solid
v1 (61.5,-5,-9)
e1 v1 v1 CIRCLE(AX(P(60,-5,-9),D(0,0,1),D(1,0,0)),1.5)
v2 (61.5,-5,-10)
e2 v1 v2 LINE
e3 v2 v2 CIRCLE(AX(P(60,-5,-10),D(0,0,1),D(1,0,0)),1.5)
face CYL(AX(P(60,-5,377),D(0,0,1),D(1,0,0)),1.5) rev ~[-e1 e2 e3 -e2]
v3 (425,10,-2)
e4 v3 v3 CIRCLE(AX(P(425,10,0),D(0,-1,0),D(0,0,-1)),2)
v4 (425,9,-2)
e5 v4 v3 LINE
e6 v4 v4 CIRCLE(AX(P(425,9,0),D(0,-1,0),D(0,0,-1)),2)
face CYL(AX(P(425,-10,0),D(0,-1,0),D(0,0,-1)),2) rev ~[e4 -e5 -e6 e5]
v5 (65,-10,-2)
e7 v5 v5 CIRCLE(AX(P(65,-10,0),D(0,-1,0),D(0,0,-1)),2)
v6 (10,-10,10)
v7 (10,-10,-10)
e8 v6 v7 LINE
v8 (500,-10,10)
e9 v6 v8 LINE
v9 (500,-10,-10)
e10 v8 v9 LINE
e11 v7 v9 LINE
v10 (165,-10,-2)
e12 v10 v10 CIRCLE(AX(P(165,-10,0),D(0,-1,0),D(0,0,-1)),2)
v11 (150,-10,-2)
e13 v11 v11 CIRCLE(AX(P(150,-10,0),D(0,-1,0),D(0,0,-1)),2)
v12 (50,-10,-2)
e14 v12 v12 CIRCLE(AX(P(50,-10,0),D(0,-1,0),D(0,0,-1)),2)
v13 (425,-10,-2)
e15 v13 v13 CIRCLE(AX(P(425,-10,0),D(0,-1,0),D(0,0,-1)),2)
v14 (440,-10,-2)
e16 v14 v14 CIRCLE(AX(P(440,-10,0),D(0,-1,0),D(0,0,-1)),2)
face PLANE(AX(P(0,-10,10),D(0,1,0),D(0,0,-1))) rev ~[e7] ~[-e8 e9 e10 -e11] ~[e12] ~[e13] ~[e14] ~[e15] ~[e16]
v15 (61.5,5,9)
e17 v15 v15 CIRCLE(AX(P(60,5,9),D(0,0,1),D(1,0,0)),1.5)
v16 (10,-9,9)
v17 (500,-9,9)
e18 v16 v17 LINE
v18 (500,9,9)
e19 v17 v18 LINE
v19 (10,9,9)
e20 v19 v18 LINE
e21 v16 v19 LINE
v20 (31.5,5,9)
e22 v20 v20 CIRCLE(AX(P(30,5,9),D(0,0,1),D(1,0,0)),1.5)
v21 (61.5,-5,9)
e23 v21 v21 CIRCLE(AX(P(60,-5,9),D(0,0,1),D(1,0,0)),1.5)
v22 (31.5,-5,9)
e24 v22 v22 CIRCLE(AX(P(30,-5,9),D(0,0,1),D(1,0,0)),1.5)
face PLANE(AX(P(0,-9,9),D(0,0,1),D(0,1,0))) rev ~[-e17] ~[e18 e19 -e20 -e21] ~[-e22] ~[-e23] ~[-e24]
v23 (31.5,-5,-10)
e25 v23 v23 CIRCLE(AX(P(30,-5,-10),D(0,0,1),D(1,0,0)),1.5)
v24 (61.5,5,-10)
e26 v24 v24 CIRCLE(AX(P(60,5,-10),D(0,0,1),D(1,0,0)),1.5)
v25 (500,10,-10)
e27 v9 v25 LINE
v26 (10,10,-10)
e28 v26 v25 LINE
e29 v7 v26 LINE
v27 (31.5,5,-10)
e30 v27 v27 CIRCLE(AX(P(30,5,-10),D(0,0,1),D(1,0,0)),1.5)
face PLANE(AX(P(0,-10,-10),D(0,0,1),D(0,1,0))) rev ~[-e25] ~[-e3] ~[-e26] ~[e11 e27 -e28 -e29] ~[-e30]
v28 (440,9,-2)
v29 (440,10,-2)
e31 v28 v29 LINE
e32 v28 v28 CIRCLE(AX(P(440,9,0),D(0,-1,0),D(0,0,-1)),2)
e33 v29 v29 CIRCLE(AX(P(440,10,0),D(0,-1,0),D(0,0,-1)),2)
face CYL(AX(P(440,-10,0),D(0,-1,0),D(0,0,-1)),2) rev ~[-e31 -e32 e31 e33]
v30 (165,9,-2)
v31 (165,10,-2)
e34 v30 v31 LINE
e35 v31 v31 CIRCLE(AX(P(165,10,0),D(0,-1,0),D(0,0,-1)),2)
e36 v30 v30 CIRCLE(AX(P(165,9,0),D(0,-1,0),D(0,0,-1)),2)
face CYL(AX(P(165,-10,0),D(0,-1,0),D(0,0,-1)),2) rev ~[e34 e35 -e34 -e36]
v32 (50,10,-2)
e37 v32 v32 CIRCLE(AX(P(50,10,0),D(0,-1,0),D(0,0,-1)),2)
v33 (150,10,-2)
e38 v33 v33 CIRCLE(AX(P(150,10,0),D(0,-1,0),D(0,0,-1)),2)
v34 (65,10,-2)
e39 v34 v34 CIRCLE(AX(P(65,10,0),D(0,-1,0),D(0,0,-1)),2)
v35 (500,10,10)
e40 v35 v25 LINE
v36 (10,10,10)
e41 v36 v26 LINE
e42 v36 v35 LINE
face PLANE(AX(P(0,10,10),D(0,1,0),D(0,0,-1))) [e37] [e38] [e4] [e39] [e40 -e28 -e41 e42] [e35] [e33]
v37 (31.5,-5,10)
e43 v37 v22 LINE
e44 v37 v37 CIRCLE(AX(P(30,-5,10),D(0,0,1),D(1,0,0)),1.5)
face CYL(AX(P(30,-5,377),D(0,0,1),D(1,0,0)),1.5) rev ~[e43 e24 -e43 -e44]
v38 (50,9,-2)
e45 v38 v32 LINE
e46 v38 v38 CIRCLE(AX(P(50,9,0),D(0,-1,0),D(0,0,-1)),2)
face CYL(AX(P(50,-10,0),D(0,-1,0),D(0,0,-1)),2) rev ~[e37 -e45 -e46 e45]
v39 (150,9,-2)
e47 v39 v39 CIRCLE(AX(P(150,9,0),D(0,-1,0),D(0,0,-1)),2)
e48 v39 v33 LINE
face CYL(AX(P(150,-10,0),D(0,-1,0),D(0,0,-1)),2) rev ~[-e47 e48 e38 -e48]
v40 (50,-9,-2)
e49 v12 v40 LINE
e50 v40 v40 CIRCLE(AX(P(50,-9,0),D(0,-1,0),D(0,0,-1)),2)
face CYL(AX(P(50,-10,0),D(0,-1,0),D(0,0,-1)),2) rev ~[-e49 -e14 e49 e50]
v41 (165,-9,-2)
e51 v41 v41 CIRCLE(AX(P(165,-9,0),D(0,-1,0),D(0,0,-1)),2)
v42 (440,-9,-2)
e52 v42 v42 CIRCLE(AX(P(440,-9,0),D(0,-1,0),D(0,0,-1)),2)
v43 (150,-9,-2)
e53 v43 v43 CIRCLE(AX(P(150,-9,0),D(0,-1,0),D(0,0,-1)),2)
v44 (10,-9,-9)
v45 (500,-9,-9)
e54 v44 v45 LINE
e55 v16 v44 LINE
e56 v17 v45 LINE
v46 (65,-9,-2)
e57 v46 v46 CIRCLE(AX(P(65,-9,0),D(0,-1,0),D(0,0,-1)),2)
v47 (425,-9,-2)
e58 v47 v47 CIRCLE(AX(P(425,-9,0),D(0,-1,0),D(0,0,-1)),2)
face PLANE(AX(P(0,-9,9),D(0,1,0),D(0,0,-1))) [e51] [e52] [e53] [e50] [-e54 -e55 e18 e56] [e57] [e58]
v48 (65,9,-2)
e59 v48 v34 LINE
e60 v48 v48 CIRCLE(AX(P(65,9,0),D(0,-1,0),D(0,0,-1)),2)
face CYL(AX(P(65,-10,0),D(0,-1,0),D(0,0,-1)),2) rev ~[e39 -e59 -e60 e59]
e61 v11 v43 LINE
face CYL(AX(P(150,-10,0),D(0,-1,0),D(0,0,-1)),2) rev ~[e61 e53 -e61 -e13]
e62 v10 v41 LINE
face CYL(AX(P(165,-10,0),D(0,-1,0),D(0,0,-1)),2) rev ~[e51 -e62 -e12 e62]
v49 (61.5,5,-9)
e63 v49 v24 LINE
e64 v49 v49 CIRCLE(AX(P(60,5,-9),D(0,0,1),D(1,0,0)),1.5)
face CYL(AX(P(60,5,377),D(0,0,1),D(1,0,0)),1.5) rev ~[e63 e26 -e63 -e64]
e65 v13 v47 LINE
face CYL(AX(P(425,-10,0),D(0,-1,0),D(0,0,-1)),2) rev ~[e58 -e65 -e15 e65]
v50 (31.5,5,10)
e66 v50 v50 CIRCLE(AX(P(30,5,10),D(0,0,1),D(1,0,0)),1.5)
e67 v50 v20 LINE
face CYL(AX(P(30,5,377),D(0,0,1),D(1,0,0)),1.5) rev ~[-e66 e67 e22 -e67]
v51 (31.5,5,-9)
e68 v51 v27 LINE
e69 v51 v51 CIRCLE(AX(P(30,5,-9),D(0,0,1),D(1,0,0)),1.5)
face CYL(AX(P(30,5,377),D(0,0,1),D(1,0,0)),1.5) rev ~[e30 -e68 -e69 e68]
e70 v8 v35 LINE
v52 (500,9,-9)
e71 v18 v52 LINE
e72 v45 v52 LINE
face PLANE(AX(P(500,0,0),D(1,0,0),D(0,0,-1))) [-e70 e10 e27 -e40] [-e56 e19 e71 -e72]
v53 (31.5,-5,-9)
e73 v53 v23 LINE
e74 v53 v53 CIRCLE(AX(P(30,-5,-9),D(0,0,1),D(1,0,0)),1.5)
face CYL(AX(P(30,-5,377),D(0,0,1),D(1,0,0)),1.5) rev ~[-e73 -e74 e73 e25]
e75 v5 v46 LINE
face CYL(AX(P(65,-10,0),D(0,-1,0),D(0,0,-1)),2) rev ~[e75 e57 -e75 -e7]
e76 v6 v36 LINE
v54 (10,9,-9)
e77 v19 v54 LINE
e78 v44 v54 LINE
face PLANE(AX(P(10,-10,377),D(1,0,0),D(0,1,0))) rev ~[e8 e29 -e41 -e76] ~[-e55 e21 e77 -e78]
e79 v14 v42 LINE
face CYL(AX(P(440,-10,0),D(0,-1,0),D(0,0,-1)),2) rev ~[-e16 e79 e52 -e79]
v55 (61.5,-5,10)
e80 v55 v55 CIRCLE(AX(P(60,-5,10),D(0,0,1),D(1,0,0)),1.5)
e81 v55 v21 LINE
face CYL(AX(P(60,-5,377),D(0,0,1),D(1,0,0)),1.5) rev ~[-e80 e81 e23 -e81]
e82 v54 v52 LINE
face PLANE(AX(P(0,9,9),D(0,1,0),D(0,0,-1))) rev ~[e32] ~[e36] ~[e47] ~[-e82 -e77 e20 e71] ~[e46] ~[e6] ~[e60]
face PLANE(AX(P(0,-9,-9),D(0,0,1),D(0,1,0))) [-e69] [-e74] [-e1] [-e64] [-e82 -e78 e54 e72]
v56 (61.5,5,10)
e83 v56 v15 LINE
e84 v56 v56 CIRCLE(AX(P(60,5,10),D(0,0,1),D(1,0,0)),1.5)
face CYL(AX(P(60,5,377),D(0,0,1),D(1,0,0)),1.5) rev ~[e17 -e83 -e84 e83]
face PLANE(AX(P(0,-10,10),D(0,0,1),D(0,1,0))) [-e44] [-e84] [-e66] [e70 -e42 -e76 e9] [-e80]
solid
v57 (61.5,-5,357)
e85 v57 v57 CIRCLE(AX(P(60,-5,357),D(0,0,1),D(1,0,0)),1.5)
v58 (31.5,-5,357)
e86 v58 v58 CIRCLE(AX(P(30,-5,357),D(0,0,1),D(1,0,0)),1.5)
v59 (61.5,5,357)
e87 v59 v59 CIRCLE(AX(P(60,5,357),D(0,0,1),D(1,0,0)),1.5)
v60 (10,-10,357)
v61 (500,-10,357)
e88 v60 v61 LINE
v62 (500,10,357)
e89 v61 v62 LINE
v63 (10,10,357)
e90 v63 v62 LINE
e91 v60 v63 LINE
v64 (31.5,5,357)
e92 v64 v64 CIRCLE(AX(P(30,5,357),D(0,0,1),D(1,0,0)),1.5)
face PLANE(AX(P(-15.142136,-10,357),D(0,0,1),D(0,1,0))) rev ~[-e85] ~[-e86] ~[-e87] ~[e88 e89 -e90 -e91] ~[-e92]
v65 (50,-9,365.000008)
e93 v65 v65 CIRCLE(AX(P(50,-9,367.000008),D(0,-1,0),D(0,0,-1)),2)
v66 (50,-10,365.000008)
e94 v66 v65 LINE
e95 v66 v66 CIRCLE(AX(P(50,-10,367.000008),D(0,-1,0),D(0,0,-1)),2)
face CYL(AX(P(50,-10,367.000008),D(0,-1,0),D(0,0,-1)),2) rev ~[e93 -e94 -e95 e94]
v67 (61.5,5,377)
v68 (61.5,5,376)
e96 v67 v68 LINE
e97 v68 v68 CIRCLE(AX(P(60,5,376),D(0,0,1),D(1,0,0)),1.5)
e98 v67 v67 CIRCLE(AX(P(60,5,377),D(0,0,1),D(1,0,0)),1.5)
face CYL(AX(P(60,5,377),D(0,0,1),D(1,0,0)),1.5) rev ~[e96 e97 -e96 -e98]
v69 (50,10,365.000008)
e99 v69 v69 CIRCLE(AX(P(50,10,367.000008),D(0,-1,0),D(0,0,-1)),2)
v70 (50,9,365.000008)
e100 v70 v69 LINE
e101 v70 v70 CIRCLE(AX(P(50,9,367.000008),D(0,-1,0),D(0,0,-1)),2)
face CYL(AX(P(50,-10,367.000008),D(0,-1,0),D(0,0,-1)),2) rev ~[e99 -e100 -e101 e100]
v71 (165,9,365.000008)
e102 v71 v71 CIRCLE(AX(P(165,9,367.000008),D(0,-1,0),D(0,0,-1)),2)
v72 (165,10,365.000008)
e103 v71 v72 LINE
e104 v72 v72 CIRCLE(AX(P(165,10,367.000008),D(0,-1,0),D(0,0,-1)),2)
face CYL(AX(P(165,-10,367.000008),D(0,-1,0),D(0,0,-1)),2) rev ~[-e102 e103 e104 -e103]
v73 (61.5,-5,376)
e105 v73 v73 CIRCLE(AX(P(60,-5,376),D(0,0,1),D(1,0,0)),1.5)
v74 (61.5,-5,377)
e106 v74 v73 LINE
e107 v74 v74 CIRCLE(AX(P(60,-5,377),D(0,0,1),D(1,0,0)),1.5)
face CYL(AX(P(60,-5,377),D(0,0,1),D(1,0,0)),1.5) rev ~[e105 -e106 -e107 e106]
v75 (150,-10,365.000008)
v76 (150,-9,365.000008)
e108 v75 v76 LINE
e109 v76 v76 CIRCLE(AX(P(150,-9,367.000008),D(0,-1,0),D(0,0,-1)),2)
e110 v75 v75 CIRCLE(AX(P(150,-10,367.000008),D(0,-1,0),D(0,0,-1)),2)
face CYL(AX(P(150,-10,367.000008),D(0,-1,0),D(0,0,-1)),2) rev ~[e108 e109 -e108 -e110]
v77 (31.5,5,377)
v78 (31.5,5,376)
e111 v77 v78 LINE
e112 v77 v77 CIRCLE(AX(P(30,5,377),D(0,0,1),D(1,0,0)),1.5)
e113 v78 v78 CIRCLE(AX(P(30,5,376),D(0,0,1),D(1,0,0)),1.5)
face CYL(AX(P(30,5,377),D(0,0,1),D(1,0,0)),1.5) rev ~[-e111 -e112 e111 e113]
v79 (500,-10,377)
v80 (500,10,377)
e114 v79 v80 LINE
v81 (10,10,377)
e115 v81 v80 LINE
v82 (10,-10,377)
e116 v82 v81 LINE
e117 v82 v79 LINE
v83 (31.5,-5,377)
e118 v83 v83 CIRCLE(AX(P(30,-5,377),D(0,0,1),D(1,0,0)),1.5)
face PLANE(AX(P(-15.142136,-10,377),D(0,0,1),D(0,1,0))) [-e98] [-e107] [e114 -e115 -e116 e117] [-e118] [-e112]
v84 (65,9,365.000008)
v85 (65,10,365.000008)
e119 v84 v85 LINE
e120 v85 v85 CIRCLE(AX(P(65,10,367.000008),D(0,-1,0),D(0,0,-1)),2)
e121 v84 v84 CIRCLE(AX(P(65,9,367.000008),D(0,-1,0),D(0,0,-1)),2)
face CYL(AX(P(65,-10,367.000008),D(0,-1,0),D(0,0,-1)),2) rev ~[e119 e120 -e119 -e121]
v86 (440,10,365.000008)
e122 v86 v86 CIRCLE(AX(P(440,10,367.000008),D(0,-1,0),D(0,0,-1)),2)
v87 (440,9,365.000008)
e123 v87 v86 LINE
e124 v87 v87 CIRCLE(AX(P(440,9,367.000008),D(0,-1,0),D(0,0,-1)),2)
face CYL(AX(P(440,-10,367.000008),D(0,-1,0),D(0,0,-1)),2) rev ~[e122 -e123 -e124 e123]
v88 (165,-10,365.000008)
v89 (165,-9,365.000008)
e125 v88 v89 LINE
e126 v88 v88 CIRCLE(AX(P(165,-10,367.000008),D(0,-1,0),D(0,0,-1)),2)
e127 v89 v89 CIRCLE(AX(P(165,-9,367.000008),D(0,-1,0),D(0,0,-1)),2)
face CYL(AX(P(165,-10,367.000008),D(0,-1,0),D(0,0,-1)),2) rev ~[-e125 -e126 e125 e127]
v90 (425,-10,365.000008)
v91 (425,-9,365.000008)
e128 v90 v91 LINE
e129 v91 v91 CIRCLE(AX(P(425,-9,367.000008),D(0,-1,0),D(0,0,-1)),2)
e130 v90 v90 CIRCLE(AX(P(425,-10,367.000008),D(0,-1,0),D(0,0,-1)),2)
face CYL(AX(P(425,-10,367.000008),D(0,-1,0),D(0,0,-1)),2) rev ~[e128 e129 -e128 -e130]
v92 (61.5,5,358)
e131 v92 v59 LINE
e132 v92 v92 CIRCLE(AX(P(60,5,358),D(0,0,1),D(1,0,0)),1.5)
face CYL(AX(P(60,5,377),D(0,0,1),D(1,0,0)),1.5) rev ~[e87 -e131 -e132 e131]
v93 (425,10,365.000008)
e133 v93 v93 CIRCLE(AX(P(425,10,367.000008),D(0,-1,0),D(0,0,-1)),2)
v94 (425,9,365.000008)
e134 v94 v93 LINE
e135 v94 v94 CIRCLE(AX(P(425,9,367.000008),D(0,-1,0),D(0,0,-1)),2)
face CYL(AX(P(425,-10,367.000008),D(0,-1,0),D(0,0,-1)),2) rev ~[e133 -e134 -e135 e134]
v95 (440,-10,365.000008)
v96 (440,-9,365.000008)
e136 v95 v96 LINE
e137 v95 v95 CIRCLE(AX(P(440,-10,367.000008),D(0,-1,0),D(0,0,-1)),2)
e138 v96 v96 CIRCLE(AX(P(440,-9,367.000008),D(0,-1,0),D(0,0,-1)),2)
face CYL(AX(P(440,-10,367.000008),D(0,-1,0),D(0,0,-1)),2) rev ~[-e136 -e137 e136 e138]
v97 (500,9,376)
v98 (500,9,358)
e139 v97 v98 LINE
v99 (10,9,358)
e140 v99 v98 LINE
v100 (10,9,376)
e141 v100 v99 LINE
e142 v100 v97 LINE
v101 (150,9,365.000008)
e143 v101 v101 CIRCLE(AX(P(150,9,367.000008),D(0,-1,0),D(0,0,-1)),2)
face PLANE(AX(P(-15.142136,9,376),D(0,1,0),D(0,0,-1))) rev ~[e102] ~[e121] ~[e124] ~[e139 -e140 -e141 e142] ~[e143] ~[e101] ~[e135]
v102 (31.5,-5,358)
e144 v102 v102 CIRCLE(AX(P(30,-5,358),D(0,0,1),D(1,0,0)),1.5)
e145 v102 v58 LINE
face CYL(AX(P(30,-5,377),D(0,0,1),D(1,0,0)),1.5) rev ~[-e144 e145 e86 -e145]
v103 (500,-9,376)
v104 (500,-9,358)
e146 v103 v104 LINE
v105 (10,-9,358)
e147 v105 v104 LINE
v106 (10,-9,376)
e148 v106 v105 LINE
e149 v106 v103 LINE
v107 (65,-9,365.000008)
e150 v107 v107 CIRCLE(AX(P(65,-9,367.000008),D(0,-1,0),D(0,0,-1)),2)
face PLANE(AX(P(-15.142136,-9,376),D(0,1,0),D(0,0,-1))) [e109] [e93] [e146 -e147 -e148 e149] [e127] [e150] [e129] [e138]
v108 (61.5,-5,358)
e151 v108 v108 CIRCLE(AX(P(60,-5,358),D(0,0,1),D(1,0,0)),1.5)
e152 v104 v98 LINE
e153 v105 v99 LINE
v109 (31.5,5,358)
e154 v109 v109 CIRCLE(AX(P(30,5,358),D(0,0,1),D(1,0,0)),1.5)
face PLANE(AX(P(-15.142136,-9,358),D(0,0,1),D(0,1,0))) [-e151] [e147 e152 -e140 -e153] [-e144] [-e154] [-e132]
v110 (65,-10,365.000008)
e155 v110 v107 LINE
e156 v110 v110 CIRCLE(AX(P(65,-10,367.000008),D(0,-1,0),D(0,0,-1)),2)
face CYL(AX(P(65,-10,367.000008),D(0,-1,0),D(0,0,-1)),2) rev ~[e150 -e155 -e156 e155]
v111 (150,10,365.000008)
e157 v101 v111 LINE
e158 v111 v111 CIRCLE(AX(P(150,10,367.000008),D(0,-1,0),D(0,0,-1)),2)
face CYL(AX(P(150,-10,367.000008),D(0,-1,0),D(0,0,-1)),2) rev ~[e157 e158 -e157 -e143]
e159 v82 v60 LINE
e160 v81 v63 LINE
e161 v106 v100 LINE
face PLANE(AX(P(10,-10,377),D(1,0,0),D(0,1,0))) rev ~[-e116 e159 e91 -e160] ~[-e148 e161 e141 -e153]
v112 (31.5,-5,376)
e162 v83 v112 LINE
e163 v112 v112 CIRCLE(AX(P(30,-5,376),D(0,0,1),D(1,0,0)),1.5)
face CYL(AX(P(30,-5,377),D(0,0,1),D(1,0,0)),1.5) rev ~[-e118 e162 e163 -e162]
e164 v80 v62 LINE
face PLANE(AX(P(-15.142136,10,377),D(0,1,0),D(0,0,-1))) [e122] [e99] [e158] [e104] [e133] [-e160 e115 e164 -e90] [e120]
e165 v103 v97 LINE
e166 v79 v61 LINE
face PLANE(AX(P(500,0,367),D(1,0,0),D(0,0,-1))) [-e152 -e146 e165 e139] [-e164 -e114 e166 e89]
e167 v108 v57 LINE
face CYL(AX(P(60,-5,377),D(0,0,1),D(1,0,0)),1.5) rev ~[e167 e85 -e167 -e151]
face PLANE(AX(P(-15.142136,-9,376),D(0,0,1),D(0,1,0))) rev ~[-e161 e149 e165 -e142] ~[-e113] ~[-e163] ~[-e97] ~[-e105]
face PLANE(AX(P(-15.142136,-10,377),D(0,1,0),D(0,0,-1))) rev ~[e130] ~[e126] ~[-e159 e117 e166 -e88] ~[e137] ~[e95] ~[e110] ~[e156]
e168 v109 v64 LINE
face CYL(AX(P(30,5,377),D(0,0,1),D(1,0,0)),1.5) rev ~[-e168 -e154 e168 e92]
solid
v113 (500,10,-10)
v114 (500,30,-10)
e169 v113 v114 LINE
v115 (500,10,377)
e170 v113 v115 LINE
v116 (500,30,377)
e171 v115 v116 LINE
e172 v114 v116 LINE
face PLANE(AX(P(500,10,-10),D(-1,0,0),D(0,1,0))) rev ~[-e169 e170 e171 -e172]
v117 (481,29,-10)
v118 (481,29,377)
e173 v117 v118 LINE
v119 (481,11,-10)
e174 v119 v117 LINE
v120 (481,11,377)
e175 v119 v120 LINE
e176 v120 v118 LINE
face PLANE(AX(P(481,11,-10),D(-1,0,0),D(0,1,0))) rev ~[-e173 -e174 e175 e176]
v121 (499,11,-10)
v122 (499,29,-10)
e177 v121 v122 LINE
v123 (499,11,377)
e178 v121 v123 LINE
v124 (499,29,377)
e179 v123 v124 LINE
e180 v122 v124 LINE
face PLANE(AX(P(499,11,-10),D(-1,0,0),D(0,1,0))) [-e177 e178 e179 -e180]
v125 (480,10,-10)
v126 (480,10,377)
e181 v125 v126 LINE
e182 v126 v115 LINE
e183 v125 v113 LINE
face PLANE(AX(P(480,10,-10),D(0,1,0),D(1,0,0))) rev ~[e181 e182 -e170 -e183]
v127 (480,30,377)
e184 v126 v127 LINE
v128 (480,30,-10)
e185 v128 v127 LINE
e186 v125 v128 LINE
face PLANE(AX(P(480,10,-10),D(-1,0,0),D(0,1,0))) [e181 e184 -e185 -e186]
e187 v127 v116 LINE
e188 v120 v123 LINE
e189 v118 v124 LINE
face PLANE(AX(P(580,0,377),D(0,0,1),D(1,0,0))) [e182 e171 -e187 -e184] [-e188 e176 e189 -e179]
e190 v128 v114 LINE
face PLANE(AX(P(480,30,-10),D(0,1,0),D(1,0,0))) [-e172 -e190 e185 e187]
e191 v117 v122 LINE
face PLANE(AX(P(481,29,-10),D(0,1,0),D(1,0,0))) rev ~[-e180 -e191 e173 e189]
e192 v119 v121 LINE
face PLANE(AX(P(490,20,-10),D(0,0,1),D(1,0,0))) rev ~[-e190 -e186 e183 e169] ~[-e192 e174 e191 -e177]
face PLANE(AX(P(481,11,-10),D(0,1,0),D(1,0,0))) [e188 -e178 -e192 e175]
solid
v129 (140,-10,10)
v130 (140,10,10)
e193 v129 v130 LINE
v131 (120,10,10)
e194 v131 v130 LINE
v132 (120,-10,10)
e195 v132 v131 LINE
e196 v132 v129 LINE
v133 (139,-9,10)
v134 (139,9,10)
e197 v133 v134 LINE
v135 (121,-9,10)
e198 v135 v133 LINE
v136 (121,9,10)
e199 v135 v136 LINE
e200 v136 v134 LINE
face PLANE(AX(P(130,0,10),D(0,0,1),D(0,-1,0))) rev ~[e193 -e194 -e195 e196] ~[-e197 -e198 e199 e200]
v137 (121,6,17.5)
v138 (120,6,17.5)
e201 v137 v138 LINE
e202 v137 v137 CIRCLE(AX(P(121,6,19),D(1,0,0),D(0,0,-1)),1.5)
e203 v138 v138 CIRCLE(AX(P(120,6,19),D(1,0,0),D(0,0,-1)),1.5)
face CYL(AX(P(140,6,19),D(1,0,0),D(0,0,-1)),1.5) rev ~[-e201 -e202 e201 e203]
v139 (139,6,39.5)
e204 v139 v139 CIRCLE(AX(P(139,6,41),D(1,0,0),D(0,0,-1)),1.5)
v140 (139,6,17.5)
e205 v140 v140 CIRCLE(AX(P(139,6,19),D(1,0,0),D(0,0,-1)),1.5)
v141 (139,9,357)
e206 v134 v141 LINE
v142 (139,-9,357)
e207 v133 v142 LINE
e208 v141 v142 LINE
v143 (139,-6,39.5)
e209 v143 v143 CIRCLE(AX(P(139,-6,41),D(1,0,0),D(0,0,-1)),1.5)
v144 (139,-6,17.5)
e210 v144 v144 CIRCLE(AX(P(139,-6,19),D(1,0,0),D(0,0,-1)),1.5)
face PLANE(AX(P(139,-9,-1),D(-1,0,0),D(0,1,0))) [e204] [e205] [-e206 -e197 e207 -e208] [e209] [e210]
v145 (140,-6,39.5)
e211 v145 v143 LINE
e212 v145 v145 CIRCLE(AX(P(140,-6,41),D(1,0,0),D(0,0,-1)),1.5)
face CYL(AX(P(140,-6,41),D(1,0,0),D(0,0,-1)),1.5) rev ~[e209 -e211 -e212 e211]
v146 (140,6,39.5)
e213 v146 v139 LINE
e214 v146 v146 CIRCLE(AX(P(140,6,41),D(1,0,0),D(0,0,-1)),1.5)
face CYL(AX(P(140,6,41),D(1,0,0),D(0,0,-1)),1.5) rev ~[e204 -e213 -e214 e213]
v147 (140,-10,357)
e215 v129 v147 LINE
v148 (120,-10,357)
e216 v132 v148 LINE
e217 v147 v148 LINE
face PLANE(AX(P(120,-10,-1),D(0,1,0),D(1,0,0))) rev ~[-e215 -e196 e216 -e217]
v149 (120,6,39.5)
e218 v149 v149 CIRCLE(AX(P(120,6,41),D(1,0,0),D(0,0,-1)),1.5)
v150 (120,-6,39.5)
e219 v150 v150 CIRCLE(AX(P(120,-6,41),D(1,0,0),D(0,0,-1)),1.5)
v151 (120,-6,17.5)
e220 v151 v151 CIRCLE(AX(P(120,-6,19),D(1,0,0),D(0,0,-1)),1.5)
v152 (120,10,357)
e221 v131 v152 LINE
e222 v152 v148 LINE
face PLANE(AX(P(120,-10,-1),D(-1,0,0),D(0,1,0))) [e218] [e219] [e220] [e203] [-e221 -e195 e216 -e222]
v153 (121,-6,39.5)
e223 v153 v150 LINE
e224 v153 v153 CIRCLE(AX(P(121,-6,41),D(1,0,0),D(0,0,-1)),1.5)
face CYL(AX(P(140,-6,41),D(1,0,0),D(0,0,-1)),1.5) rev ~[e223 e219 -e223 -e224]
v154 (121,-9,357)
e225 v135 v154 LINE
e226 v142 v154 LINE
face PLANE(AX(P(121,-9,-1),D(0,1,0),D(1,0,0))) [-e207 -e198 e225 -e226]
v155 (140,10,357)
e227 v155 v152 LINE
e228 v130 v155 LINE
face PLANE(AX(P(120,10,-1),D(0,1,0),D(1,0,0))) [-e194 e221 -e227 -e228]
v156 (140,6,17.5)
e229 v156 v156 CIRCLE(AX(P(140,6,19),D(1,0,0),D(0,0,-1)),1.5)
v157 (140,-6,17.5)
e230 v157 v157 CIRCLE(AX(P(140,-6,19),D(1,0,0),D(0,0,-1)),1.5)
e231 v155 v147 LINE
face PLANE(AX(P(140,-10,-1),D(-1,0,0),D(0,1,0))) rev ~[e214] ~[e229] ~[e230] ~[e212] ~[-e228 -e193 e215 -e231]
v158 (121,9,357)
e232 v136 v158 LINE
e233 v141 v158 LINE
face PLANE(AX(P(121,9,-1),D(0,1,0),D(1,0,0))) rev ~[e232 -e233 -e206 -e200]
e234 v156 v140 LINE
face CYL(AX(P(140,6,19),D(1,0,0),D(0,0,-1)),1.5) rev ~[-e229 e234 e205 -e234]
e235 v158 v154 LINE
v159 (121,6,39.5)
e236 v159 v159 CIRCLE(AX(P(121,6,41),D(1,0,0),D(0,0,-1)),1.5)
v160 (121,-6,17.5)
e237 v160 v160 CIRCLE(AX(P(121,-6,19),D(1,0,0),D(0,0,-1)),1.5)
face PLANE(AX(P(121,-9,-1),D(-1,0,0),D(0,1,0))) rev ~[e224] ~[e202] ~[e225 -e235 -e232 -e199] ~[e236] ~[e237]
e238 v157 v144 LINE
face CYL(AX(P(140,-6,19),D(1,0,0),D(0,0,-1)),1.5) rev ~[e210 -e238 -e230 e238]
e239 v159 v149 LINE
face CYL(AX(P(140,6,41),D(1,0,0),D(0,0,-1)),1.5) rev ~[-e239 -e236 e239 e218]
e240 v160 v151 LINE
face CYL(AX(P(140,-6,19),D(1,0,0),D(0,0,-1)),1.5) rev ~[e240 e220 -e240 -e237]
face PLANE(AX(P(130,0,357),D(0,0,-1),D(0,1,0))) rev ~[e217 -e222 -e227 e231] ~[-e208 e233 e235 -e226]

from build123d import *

# Parameters (mm, degrees)
SKETCH_11_W                 = 20
SKETCH_11_H                 = 20
SKETCH_11_W_2               = 18
SKETCH_11_H_2               = 18
F_20X20X1_1_DEPTH           = 500
SKETCH_11_ON_SEGMENT_2_W    = 20
SKETCH_11_ON_SEGMENT_2_H    = 20
SKETCH_11_ON_SEGMENT_2_W_2  = 18
SKETCH_11_ON_SEGMENT_2_H_2  = 18
F_20X20X1_1_2_DEPTH         = 515.142135624
SKETCH_11_ON_SEGMENT_3_W    = 20
SKETCH_11_ON_SEGMENT_3_H    = 20
SKETCH_11_ON_SEGMENT_3_W_2  = 18
SKETCH_11_ON_SEGMENT_3_H_2  = 18
F_20X20X1_1_3_DEPTH         = 110.284271247
SKETCH_11_ON_SEGMENT_4_W    = 20
SKETCH_11_ON_SEGMENT_4_H    = 20
SKETCH_11_ON_SEGMENT_4_W_2  = 18
SKETCH_11_ON_SEGMENT_4_H_2  = 18
F_20X20X1_1_4_DEPTH         = 515.142135624
SKETCH_11_ON_SEGMENT_5_W    = 20
SKETCH_11_ON_SEGMENT_5_H    = 20
SKETCH_11_ON_SEGMENT_5_W_2  = 18
SKETCH_11_ON_SEGMENT_5_H_2  = 18
F_20X20X1_1_5_DEPTH         = 369
SKETCH_11_ON_SEGMENT_6_W    = 20
SKETCH_11_ON_SEGMENT_6_H    = 20
SKETCH_11_ON_SEGMENT_6_W_2  = 18
SKETCH_11_ON_SEGMENT_6_H_2  = 18
F_20X20X1_1_6_DEPTH         = 82
SKETCH_12_R                 = 1.5
CUT_EXTRUDE_1_DEPTH         = 633.35195896
SKETCH_14_W                 = 20
SKETCH_14_H                 = 20
SKETCH_14_W_2               = 18
SKETCH_14_H_2               = 18
F_20X20X1_2_DEPTH           = 165.142135624
SKETCH_14_ON_SEGMENT_2_W    = 20
SKETCH_14_ON_SEGMENT_2_H    = 20
SKETCH_14_ON_SEGMENT_2_W_2  = 18
SKETCH_14_ON_SEGMENT_2_H_2  = 18
F_20X20X1_2_2_DEPTH         = 477.284271247
SKETCH_14_ON_SEGMENT_3_W    = 20
SKETCH_14_ON_SEGMENT_3_H    = 20
SKETCH_14_ON_SEGMENT_3_W_2  = 18
SKETCH_14_ON_SEGMENT_3_H_2  = 18
F_20X20X1_2_3_DEPTH         = 165.142135624
SKETCH_14_ON_SEGMENT_4_W    = 20
SKETCH_14_ON_SEGMENT_4_H    = 20
SKETCH_14_ON_SEGMENT_4_W_2  = 18
SKETCH_14_ON_SEGMENT_4_H_2  = 18
F_20X20X1_2_4_DEPTH         = 151
SKETCH_16_W                 = 20
SKETCH_16_H                 = 20
SKETCH_16_W_2               = 18
SKETCH_16_H_2               = 18
F_20X20X1_3_DEPTH           = 467
SKETCH_110_W                = 20
SKETCH_110_H                = 20
SKETCH_110_W_2              = 18
SKETCH_110_H_2              = 18
F_20X20X1_4_DEPTH           = 360
SKETCH_110_ON_SEGMENT_2_W   = 20
SKETCH_110_ON_SEGMENT_2_H   = 20
SKETCH_110_ON_SEGMENT_2_W_2 = 18
SKETCH_110_ON_SEGMENT_2_H_2 = 18
F_20X20X1_4_2_DEPTH         = 360
SKETCH_111_R                = 6
CUT_EXTRUDE_3_DEPTH         = 804.024906214
SKETCH_17_R                 = 1.5
CUT_EXTRUDE_5_DEPTH         = 693.927846172
CUT_EXTRUDE_7_DEPTH         = 80
SKETCH_114_R                = 2
CUT_EXTRUDE_8_DEPTH         = 762.136650018
SKETCH_115_R                = 2
CUT_EXTRUDE_9_DEPTH         = 762.136650018
SKETCH_116_W                = 20
SKETCH_116_H                = 20
CUT_EXTRUDE_10_DEPTH        = 766.682048895
SKETCH_117_W                = 463.793708678
SKETCH_117_H                = 112.242217969
CUT_EXTRUDE_11_DEPTH        = 220
SKETCH_118_W                = 249.609075219
SKETCH_118_H                = 20
CUT_EXTRUDE_12_DEPTH        = 393


with BuildPart() as part:
    # 草图11 → 铝管 20X20X1(1) (new body)
    with BuildSketch(Plane(origin=(0, 0, 0), x_dir=(0, 0, -1), z_dir=(1, 0, 0))):
        Rectangle(SKETCH_11_W, SKETCH_11_H)
        Rectangle(SKETCH_11_W_2, SKETCH_11_H_2, mode=Mode.SUBTRACT)
    extrude(amount=F_20X20X1_1_DEPTH)


with BuildPart() as body_2:
    # 草图11 on segment 2 (carried to segment 2) → 20X20X1_1 2 (new body)
    with BuildSketch(Plane(origin=(-15.142135624, 0, 447), x_dir=(0, 0, -1), z_dir=(1, 0, 0))):
        Rectangle(SKETCH_11_ON_SEGMENT_2_W, SKETCH_11_ON_SEGMENT_2_H)
        Rectangle(SKETCH_11_ON_SEGMENT_2_W_2, SKETCH_11_ON_SEGMENT_2_H_2, mode=Mode.SUBTRACT)
    extrude(amount=F_20X20X1_1_2_DEPTH)

    # 20X20X1_1 2 mitre 1
    split(bisect_by=Plane(origin=(0, 0, 447), x_dir=(0, 1, 0), z_dir=(0.707106781, 0, 0.707106781)), keep=Keep.TOP)


with BuildPart() as body_3:
    # 草图11 on segment 3 (carried to segment 3) → 20X20X1_1 3 (new body)
    with BuildSketch(Plane.XY.offset(351.857864376)):
        Rectangle(SKETCH_11_ON_SEGMENT_3_W, SKETCH_11_ON_SEGMENT_3_H)
        Rectangle(SKETCH_11_ON_SEGMENT_3_W_2, SKETCH_11_ON_SEGMENT_3_H_2, mode=Mode.SUBTRACT)
    extrude(amount=F_20X20X1_1_3_DEPTH)

    # 20X20X1_1 3 mitre 1
    split(bisect_by=Plane(origin=(0, 0, 367), x_dir=(0, -1, 0), z_dir=(-0.707106781, 0, 0.707106781)), keep=Keep.TOP)

    # 20X20X1_1 3 mitre 2
    split(bisect_by=Plane(origin=(0, 0, 447), x_dir=(0, -1, 0), z_dir=(-0.707106781, 0, -0.707106781)), keep=Keep.TOP)


with BuildPart() as body_4:
    # 草图11 on segment 4 (carried to segment 4) → 20X20X1_1 4 (new body)
    with BuildSketch(Plane(origin=(-15.142135624, 0, 367), x_dir=(0, 0, -1), z_dir=(1, 0, 0))):
        Rectangle(SKETCH_11_ON_SEGMENT_4_W, SKETCH_11_ON_SEGMENT_4_H)
        Rectangle(SKETCH_11_ON_SEGMENT_4_W_2, SKETCH_11_ON_SEGMENT_4_H_2, mode=Mode.SUBTRACT)
    extrude(amount=F_20X20X1_1_4_DEPTH)

    # 20X20X1_1 4 mitre 1
    split(bisect_by=Plane(origin=(0, 0, 367), x_dir=(0, 1, 0), z_dir=(0.707106781, 0, -0.707106781)), keep=Keep.TOP)


with BuildPart() as body_5:
    # 草图11 on segment 5 (carried to segment 5) → 20X20X1_1 5 (new body)
    with BuildSketch(Plane(origin=(130, 0, -1), x_dir=(1, 0, 0), z_dir=(0, 0, 1))):
        Rectangle(SKETCH_11_ON_SEGMENT_5_W, SKETCH_11_ON_SEGMENT_5_H)
        Rectangle(SKETCH_11_ON_SEGMENT_5_W_2, SKETCH_11_ON_SEGMENT_5_H_2, mode=Mode.SUBTRACT)
    extrude(amount=F_20X20X1_1_5_DEPTH)

    # 20X20X1_1 5 mitre 1
    split(bisect_by=Plane(origin=(130, 0, 367), x_dir=(0, 1, 0), z_dir=(0, 0, -1)), keep=Keep.TOP)

    # 20X20X1_1 5 mitre 2
    split(bisect_by=Plane(origin=(130, 0, 10), x_dir=(0, -1, 0), z_dir=(0, 0, 1)), keep=Keep.TOP)

    # 20X20X1_1 5 mitre 3
    split(bisect_by=Plane(origin=(130, 0, 357), x_dir=(0, 1, 0), z_dir=(0, 0, -1)), keep=Keep.TOP)

    # 草图17 → 切除-拉伸5 (cut, through all)
    with BuildSketch(Plane(origin=(140, 0, 0), x_dir=(0, 0, -1), z_dir=(1, 0, 0))):
        with Locations((-41, 6)):
            Circle(SKETCH_17_R)
        with Locations((-41, -6)):
            Circle(SKETCH_17_R)
        with Locations((-19, 6)):
            Circle(SKETCH_17_R)
        with Locations((-19, -6)):
            Circle(SKETCH_17_R)
    extrude(amount=-CUT_EXTRUDE_5_DEPTH, mode=Mode.SUBTRACT)


with BuildPart() as body_6:
    # 草图11 on segment 6 (carried to segment 6) → 20X20X1_1 6 (new body)
    with BuildSketch(Plane(origin=(130, 0, 366), x_dir=(1, 0, 0), z_dir=(0, 0, 1))):
        Rectangle(SKETCH_11_ON_SEGMENT_6_W, SKETCH_11_ON_SEGMENT_6_H)
        Rectangle(SKETCH_11_ON_SEGMENT_6_W_2, SKETCH_11_ON_SEGMENT_6_H_2, mode=Mode.SUBTRACT)
    extrude(amount=F_20X20X1_1_6_DEPTH)

    # 20X20X1_1 6 mitre 1
    split(bisect_by=Plane(origin=(130, 0, 367), x_dir=(0, -1, 0), z_dir=(0, 0, 1)), keep=Keep.TOP)

    # 20X20X1_1 6 mitre 2
    split(bisect_by=Plane(origin=(130, 0, 377), x_dir=(0, -1, 0), z_dir=(0, 0, 1)), keep=Keep.TOP)

    # 20X20X1_1 6 mitre 3
    split(bisect_by=Plane(origin=(130, 0, 437), x_dir=(0, 1, 0), z_dir=(0, 0, -1)), keep=Keep.TOP)


with BuildPart() as cut_extrude_1_tool:
    # 草图12 → 切除-拉伸1 (new, through all)
    with BuildSketch(Plane.XY.offset(377)):
        with Locations((30, 5)):
            Circle(SKETCH_12_R)
        with Locations((60, 5)):
            Circle(SKETCH_12_R)
        with Locations((30, -5)):
            Circle(SKETCH_12_R)
        with Locations((60, -5)):
            Circle(SKETCH_12_R)
    extrude(amount=-CUT_EXTRUDE_1_DEPTH)


with BuildPart() as part_1:
    add(part.part)

    # 切除-拉伸1: cut by cut_extrude_1_tool
    add(cut_extrude_1_tool.part, mode=Mode.SUBTRACT)

    # 草图115 → 切除-拉伸9 (cut, through all)
    with BuildSketch(Plane.XZ.offset(10)):
        with Locations(Location((50, 0, 0), (0, 0, 270))):
            Circle(SKETCH_115_R)
        with Locations(Location((65, 0, 0), (0, 0, 270))):
            Circle(SKETCH_115_R)
        with Locations(Location((150, 0, 0), (0, 0, 270))):
            Circle(SKETCH_115_R)
        with Locations(Location((165, 0, 0), (0, 0, 270))):
            Circle(SKETCH_115_R)
        with Locations(Location((440, 0, 0), (0, 0, 270))):
            Circle(SKETCH_115_R)
        with Locations(Location((425, 0, 0), (0, 0, 270))):
            Circle(SKETCH_115_R)
    extrude(amount=-CUT_EXTRUDE_9_DEPTH, mode=Mode.SUBTRACT)


with BuildPart() as body_4_1:
    add(body_4.part)

    # 切除-拉伸1: cut by cut_extrude_1_tool
    add(cut_extrude_1_tool.part, mode=Mode.SUBTRACT)

    # 草图114 → 切除-拉伸8 (cut, through all)
    with BuildSketch(Plane.XZ.offset(10)):
        with Locations(Location((49.999999674, 367.000008181, 0), (0, 0, 270))):
            Circle(SKETCH_114_R)
        with Locations(Location((64.999999674, 367.000008181, 0), (0, 0, 270))):
            Circle(SKETCH_114_R)
        with Locations(Location((149.999999674, 367.000008181, 0), (0, 0, 270))):
            Circle(SKETCH_114_R)
        with Locations(Location((164.999999674, 367.000008181, 0), (0, 0, 270))):
            Circle(SKETCH_114_R)
        with Locations(Location((424.999999674, 367.000008181, 0), (0, 0, 270))):
            Circle(SKETCH_114_R)
        with Locations(Location((439.999999674, 367.000008181, 0), (0, 0, 270))):
            Circle(SKETCH_114_R)
    extrude(amount=-CUT_EXTRUDE_8_DEPTH, mode=Mode.SUBTRACT)


with BuildPart() as body_7:
    # 草图14 → 铝管 20X20X1(2) (new body)
    with BuildSketch(Plane(origin=(500, 0, 447), x_dir=(0, 0, -1), z_dir=(1, 0, 0))):
        Rectangle(SKETCH_14_W, SKETCH_14_H)
        Rectangle(SKETCH_14_W_2, SKETCH_14_H_2, mode=Mode.SUBTRACT)
    extrude(amount=F_20X20X1_2_DEPTH)

    # 铝管 20X20X1(2) mitre 1
    split(bisect_by=Plane(origin=(650, 0, 447), x_dir=(0, -1, 0), z_dir=(-0.707106781, 0, 0.707106781)), keep=Keep.TOP)


with BuildPart() as body_8:
    # 草图14 on segment 2 (carried to segment 2) → 20X20X1_2 2 (new body)
    with BuildSketch(Plane(origin=(650, 0, 462.142135624), x_dir=(-1, 0, 0), z_dir=(0, 0, -1))):
        Rectangle(SKETCH_14_ON_SEGMENT_2_W, SKETCH_14_ON_SEGMENT_2_H)
        Rectangle(SKETCH_14_ON_SEGMENT_2_W_2, SKETCH_14_ON_SEGMENT_2_H_2, mode=Mode.SUBTRACT)
    extrude(amount=F_20X20X1_2_2_DEPTH)

    # 20X20X1_2 2 mitre 1
    split(bisect_by=Plane(origin=(650, 0, 447), x_dir=(0, 1, 0), z_dir=(0.707106781, 0, -0.707106781)), keep=Keep.TOP)

    # 20X20X1_2 2 mitre 2
    split(bisect_by=Plane(origin=(650, 0, 0), x_dir=(0, 1, 0), z_dir=(0.707106781, 0, 0.707106781)), keep=Keep.TOP)


with BuildPart() as body_9:
    # 草图14 on segment 3 (carried to segment 3) → 20X20X1_2 3 (new body)
    with BuildSketch(Plane.ZY.offset(-665.142135624)):
        Rectangle(SKETCH_14_ON_SEGMENT_3_W, SKETCH_14_ON_SEGMENT_3_H)
        Rectangle(SKETCH_14_ON_SEGMENT_3_W_2, SKETCH_14_ON_SEGMENT_3_H_2, mode=Mode.SUBTRACT)
    extrude(amount=F_20X20X1_2_3_DEPTH)

    # 20X20X1_2 3 mitre 1
    split(bisect_by=Plane(origin=(650, 0, 0), x_dir=(0, -1, 0), z_dir=(-0.707106781, 0, -0.707106781)), keep=Keep.TOP)


with BuildPart() as body_10:
    # 草图14 on segment 4 (carried to segment 4) → 20X20X1_2 4 (new body)
    with BuildSketch(Plane(origin=(500, 0, 367), x_dir=(0, 0, -1), z_dir=(1, 0, 0))):
        Rectangle(SKETCH_14_ON_SEGMENT_4_W, SKETCH_14_ON_SEGMENT_4_H)
        Rectangle(SKETCH_14_ON_SEGMENT_4_W_2, SKETCH_14_ON_SEGMENT_4_H_2, mode=Mode.SUBTRACT)
    extrude(amount=F_20X20X1_2_4_DEPTH)

    # 20X20X1_2 4 mitre 1
    split(bisect_by=Plane(origin=(640, 0, 367), x_dir=(0, -1, 0), z_dir=(-1, 0, 0)), keep=Keep.TOP)


with BuildPart() as body_11:
    # 草图16 → 铝管 20X20X1(3) (new body)
    with BuildSketch(Plane(origin=(490, 20, -10), x_dir=(1, 0, 0), z_dir=(0, 0, 1))):
        Rectangle(SKETCH_16_W, SKETCH_16_H)
        Rectangle(SKETCH_16_W_2, SKETCH_16_H_2, mode=Mode.SUBTRACT)
    extrude(amount=F_20X20X1_3_DEPTH)


with BuildPart() as body_12:
    # 草图110 → 铝管 20X20X1(4) (new body)
    with BuildSketch(Plane(origin=(140, 0, 100), x_dir=(0, 0, -1), z_dir=(1, 0, 0))):
        Rectangle(SKETCH_110_W, SKETCH_110_H)
        Rectangle(SKETCH_110_W_2, SKETCH_110_H_2, mode=Mode.SUBTRACT)
    extrude(amount=F_20X20X1_4_DEPTH)


with BuildPart() as body_13:
    # 草图110 on segment 2 (carried to segment 2) → 20X20X1_4 2 (new body)
    with BuildSketch(Plane(origin=(140, 0, 297), x_dir=(0, 0, -1), z_dir=(1, 0, 0))):
        Rectangle(SKETCH_110_ON_SEGMENT_2_W, SKETCH_110_ON_SEGMENT_2_H)
        Rectangle(SKETCH_110_ON_SEGMENT_2_W_2, SKETCH_110_ON_SEGMENT_2_H_2, mode=Mode.SUBTRACT)
    extrude(amount=F_20X20X1_4_2_DEPTH)


with BuildPart() as cut_extrude_3_tool:
    # 草图111 → 切除-拉伸3 (new, through all)
    with BuildSketch(Plane(origin=(0, 10, 0), x_dir=(1, 0, 0), z_dir=(0, 1, 0))):
        with Locations(Location((160, -100, 0), (0, 0, 270))):
            Circle(SKETCH_111_R)
        with Locations(Location((160, -297, 0), (0, 0, 270))):
            Circle(SKETCH_111_R)
        with Locations(Location((180, -100, 0), (0, 0, 270))):
            Circle(SKETCH_111_R)
        with Locations(Location((180, -297, 0), (0, 0, 270))):
            Circle(SKETCH_111_R)
        with Locations(Location((200, -100, 0), (0, 0, 270))):
            Circle(SKETCH_111_R)
        with Locations(Location((200, -297, 0), (0, 0, 270))):
            Circle(SKETCH_111_R)
        with Locations(Location((220, -100, 0), (0, 0, 270))):
            Circle(SKETCH_111_R)
        with Locations(Location((220, -297, 0), (0, 0, 270))):
            Circle(SKETCH_111_R)
        with Locations(Location((240, -100, 0), (0, 0, 270))):
            Circle(SKETCH_111_R)
        with Locations(Location((240, -297, 0), (0, 0, 270))):
            Circle(SKETCH_111_R)
        with Locations(Location((260, -100, 0), (0, 0, 270))):
            Circle(SKETCH_111_R)
        with Locations(Location((260, -297, 0), (0, 0, 270))):
            Circle(SKETCH_111_R)
        with Locations(Location((280, -100, 0), (0, 0, 270))):
            Circle(SKETCH_111_R)
        with Locations(Location((280, -297, 0), (0, 0, 270))):
            Circle(SKETCH_111_R)
        with Locations(Location((300, -100, 0), (0, 0, 270))):
            Circle(SKETCH_111_R)
        with Locations(Location((300, -297, 0), (0, 0, 270))):
            Circle(SKETCH_111_R)
        with Locations(Location((320, -100, 0), (0, 0, 270))):
            Circle(SKETCH_111_R)
        with Locations(Location((320, -297, 0), (0, 0, 270))):
            Circle(SKETCH_111_R)
        with Locations(Location((340, -100, 0), (0, 0, 270))):
            Circle(SKETCH_111_R)
        with Locations(Location((340, -297, 0), (0, 0, 270))):
            Circle(SKETCH_111_R)
        with Locations(Location((360, -100, 0), (0, 0, 270))):
            Circle(SKETCH_111_R)
        with Locations(Location((360, -297, 0), (0, 0, 270))):
            Circle(SKETCH_111_R)
        with Locations(Location((380, -100, 0), (0, 0, 270))):
            Circle(SKETCH_111_R)
        with Locations(Location((380, -297, 0), (0, 0, 270))):
            Circle(SKETCH_111_R)
        with Locations(Location((400, -100, 0), (0, 0, 270))):
            Circle(SKETCH_111_R)
        with Locations(Location((400, -297, 0), (0, 0, 270))):
            Circle(SKETCH_111_R)
        with Locations(Location((420, -100, 0), (0, 0, 270))):
            Circle(SKETCH_111_R)
        with Locations(Location((420, -297, 0), (0, 0, 270))):
            Circle(SKETCH_111_R)
        with Locations(Location((440, -100, 0), (0, 0, 270))):
            Circle(SKETCH_111_R)
        with Locations(Location((440, -297, 0), (0, 0, 270))):
            Circle(SKETCH_111_R)
    extrude(amount=-CUT_EXTRUDE_3_DEPTH)


with BuildPart() as body_12_1:
    add(body_12.part)

    # 切除-拉伸3: cut by cut_extrude_3_tool
    add(cut_extrude_3_tool.part, mode=Mode.SUBTRACT)


with BuildPart() as body_13_1:
    add(body_13.part)

    # 切除-拉伸3: cut by cut_extrude_3_tool
    add(cut_extrude_3_tool.part, mode=Mode.SUBTRACT)


with BuildPart() as cut_extrude_7_tool:
    # 草图113 → 切除-拉伸7 (new body)
    with BuildSketch(Plane.XY.offset(457)):
        Polygon((500, -10), (660, -10), (660, 10), (518.890990639, 10), (500, 10), align=None)
        Polygon((-10, -10), (500, -10), (500, 10), (418.532570431, 10), (-10, 10), align=None)
        Polygon((500, 10), (518.890990639, 10), (518.890990639, 44.57455739), (418.532570431, 44.57455739), (418.532570431, 10), align=None)
    extrude(amount=-CUT_EXTRUDE_7_DEPTH)


with BuildPart() as body_2_1:
    add(body_2.part)

    # 切除-拉伸7: cut by cut_extrude_7_tool
    add(cut_extrude_7_tool.part, mode=Mode.SUBTRACT)


with BuildPart() as body_3_1:
    add(body_3.part)

    # 切除-拉伸7: cut by cut_extrude_7_tool
    add(cut_extrude_7_tool.part, mode=Mode.SUBTRACT)


with BuildPart() as body_6_1:
    add(body_6.part)

    # 切除-拉伸7: cut by cut_extrude_7_tool
    add(cut_extrude_7_tool.part, mode=Mode.SUBTRACT)


with BuildPart() as body_7_1:
    add(body_7.part)

    # 切除-拉伸7: cut by cut_extrude_7_tool
    add(cut_extrude_7_tool.part, mode=Mode.SUBTRACT)


with BuildPart() as body_8_1:
    add(body_8.part)

    # 切除-拉伸7: cut by cut_extrude_7_tool
    add(cut_extrude_7_tool.part, mode=Mode.SUBTRACT)


with BuildPart() as body_11_1:
    add(body_11.part)

    # 切除-拉伸7: cut by cut_extrude_7_tool
    add(cut_extrude_7_tool.part, mode=Mode.SUBTRACT)


with BuildPart() as cut_extrude_10_tool:
    # 草图116 → 切除-拉伸10 (new, through all)
    with BuildSketch(Plane.XY.offset(377)):
        Rectangle(SKETCH_116_W, SKETCH_116_H)
    extrude(amount=-CUT_EXTRUDE_10_DEPTH)


with BuildPart() as part_2:
    add(part_1.part)

    # 切除-拉伸10: cut by cut_extrude_10_tool
    add(cut_extrude_10_tool.part, mode=Mode.SUBTRACT)


with BuildPart() as body_3_2:
    add(body_3_1.part)

    # 切除-拉伸10: cut by cut_extrude_10_tool
    add(cut_extrude_10_tool.part, mode=Mode.SUBTRACT)


with BuildPart() as body_4_2:
    add(body_4_1.part)

    # 切除-拉伸10: cut by cut_extrude_10_tool
    add(cut_extrude_10_tool.part, mode=Mode.SUBTRACT)


with BuildPart() as cut_extrude_11_tool:
    # 草图117 → 切除-拉伸11 (new body)
    with BuildSketch(Plane(origin=(500, 0, 0), x_dir=(0, 0, -1), z_dir=(1, 0, 0))):
        with Locations((-165.209666295, -10.864603229)):
            Rectangle(SKETCH_117_W, SKETCH_117_H)
    extrude(amount=CUT_EXTRUDE_11_DEPTH)


with BuildPart() as body_8_2:
    add(body_8_1.part)

    # 切除-拉伸11: cut by cut_extrude_11_tool
    add(cut_extrude_11_tool.part, mode=Mode.SUBTRACT)


with BuildPart() as body_9_1:
    add(body_9.part)

    # 切除-拉伸11: cut by cut_extrude_11_tool
    add(cut_extrude_11_tool.part, mode=Mode.SUBTRACT)


with BuildPart() as body_10_1:
    add(body_10.part)

    # 切除-拉伸11: cut by cut_extrude_11_tool
    add(cut_extrude_11_tool.part, mode=Mode.SUBTRACT)


with BuildPart() as cut_extrude_12_tool:
    # 草图118 → 切除-拉伸12 (new body)
    with BuildSketch(Plane(origin=(140, 0, 0), x_dir=(0, 0, -1), z_dir=(1, 0, 0))):
        with Locations((-193.88291518, 0)):
            Rectangle(SKETCH_118_W, SKETCH_118_H)
    extrude(amount=CUT_EXTRUDE_12_DEPTH)


with BuildPart() as body_12_2:
    add(body_12_1.part)

    # 切除-拉伸12: cut by cut_extrude_12_tool
    add(cut_extrude_12_tool.part, mode=Mode.SUBTRACT)


with BuildPart() as body_13_2:
    add(body_13_1.part)

    # 切除-拉伸12: cut by cut_extrude_12_tool
    add(cut_extrude_12_tool.part, mode=Mode.SUBTRACT)


solid = Compound([body_5.part, body_11_1.part, part_2.part, body_4_2.part])
